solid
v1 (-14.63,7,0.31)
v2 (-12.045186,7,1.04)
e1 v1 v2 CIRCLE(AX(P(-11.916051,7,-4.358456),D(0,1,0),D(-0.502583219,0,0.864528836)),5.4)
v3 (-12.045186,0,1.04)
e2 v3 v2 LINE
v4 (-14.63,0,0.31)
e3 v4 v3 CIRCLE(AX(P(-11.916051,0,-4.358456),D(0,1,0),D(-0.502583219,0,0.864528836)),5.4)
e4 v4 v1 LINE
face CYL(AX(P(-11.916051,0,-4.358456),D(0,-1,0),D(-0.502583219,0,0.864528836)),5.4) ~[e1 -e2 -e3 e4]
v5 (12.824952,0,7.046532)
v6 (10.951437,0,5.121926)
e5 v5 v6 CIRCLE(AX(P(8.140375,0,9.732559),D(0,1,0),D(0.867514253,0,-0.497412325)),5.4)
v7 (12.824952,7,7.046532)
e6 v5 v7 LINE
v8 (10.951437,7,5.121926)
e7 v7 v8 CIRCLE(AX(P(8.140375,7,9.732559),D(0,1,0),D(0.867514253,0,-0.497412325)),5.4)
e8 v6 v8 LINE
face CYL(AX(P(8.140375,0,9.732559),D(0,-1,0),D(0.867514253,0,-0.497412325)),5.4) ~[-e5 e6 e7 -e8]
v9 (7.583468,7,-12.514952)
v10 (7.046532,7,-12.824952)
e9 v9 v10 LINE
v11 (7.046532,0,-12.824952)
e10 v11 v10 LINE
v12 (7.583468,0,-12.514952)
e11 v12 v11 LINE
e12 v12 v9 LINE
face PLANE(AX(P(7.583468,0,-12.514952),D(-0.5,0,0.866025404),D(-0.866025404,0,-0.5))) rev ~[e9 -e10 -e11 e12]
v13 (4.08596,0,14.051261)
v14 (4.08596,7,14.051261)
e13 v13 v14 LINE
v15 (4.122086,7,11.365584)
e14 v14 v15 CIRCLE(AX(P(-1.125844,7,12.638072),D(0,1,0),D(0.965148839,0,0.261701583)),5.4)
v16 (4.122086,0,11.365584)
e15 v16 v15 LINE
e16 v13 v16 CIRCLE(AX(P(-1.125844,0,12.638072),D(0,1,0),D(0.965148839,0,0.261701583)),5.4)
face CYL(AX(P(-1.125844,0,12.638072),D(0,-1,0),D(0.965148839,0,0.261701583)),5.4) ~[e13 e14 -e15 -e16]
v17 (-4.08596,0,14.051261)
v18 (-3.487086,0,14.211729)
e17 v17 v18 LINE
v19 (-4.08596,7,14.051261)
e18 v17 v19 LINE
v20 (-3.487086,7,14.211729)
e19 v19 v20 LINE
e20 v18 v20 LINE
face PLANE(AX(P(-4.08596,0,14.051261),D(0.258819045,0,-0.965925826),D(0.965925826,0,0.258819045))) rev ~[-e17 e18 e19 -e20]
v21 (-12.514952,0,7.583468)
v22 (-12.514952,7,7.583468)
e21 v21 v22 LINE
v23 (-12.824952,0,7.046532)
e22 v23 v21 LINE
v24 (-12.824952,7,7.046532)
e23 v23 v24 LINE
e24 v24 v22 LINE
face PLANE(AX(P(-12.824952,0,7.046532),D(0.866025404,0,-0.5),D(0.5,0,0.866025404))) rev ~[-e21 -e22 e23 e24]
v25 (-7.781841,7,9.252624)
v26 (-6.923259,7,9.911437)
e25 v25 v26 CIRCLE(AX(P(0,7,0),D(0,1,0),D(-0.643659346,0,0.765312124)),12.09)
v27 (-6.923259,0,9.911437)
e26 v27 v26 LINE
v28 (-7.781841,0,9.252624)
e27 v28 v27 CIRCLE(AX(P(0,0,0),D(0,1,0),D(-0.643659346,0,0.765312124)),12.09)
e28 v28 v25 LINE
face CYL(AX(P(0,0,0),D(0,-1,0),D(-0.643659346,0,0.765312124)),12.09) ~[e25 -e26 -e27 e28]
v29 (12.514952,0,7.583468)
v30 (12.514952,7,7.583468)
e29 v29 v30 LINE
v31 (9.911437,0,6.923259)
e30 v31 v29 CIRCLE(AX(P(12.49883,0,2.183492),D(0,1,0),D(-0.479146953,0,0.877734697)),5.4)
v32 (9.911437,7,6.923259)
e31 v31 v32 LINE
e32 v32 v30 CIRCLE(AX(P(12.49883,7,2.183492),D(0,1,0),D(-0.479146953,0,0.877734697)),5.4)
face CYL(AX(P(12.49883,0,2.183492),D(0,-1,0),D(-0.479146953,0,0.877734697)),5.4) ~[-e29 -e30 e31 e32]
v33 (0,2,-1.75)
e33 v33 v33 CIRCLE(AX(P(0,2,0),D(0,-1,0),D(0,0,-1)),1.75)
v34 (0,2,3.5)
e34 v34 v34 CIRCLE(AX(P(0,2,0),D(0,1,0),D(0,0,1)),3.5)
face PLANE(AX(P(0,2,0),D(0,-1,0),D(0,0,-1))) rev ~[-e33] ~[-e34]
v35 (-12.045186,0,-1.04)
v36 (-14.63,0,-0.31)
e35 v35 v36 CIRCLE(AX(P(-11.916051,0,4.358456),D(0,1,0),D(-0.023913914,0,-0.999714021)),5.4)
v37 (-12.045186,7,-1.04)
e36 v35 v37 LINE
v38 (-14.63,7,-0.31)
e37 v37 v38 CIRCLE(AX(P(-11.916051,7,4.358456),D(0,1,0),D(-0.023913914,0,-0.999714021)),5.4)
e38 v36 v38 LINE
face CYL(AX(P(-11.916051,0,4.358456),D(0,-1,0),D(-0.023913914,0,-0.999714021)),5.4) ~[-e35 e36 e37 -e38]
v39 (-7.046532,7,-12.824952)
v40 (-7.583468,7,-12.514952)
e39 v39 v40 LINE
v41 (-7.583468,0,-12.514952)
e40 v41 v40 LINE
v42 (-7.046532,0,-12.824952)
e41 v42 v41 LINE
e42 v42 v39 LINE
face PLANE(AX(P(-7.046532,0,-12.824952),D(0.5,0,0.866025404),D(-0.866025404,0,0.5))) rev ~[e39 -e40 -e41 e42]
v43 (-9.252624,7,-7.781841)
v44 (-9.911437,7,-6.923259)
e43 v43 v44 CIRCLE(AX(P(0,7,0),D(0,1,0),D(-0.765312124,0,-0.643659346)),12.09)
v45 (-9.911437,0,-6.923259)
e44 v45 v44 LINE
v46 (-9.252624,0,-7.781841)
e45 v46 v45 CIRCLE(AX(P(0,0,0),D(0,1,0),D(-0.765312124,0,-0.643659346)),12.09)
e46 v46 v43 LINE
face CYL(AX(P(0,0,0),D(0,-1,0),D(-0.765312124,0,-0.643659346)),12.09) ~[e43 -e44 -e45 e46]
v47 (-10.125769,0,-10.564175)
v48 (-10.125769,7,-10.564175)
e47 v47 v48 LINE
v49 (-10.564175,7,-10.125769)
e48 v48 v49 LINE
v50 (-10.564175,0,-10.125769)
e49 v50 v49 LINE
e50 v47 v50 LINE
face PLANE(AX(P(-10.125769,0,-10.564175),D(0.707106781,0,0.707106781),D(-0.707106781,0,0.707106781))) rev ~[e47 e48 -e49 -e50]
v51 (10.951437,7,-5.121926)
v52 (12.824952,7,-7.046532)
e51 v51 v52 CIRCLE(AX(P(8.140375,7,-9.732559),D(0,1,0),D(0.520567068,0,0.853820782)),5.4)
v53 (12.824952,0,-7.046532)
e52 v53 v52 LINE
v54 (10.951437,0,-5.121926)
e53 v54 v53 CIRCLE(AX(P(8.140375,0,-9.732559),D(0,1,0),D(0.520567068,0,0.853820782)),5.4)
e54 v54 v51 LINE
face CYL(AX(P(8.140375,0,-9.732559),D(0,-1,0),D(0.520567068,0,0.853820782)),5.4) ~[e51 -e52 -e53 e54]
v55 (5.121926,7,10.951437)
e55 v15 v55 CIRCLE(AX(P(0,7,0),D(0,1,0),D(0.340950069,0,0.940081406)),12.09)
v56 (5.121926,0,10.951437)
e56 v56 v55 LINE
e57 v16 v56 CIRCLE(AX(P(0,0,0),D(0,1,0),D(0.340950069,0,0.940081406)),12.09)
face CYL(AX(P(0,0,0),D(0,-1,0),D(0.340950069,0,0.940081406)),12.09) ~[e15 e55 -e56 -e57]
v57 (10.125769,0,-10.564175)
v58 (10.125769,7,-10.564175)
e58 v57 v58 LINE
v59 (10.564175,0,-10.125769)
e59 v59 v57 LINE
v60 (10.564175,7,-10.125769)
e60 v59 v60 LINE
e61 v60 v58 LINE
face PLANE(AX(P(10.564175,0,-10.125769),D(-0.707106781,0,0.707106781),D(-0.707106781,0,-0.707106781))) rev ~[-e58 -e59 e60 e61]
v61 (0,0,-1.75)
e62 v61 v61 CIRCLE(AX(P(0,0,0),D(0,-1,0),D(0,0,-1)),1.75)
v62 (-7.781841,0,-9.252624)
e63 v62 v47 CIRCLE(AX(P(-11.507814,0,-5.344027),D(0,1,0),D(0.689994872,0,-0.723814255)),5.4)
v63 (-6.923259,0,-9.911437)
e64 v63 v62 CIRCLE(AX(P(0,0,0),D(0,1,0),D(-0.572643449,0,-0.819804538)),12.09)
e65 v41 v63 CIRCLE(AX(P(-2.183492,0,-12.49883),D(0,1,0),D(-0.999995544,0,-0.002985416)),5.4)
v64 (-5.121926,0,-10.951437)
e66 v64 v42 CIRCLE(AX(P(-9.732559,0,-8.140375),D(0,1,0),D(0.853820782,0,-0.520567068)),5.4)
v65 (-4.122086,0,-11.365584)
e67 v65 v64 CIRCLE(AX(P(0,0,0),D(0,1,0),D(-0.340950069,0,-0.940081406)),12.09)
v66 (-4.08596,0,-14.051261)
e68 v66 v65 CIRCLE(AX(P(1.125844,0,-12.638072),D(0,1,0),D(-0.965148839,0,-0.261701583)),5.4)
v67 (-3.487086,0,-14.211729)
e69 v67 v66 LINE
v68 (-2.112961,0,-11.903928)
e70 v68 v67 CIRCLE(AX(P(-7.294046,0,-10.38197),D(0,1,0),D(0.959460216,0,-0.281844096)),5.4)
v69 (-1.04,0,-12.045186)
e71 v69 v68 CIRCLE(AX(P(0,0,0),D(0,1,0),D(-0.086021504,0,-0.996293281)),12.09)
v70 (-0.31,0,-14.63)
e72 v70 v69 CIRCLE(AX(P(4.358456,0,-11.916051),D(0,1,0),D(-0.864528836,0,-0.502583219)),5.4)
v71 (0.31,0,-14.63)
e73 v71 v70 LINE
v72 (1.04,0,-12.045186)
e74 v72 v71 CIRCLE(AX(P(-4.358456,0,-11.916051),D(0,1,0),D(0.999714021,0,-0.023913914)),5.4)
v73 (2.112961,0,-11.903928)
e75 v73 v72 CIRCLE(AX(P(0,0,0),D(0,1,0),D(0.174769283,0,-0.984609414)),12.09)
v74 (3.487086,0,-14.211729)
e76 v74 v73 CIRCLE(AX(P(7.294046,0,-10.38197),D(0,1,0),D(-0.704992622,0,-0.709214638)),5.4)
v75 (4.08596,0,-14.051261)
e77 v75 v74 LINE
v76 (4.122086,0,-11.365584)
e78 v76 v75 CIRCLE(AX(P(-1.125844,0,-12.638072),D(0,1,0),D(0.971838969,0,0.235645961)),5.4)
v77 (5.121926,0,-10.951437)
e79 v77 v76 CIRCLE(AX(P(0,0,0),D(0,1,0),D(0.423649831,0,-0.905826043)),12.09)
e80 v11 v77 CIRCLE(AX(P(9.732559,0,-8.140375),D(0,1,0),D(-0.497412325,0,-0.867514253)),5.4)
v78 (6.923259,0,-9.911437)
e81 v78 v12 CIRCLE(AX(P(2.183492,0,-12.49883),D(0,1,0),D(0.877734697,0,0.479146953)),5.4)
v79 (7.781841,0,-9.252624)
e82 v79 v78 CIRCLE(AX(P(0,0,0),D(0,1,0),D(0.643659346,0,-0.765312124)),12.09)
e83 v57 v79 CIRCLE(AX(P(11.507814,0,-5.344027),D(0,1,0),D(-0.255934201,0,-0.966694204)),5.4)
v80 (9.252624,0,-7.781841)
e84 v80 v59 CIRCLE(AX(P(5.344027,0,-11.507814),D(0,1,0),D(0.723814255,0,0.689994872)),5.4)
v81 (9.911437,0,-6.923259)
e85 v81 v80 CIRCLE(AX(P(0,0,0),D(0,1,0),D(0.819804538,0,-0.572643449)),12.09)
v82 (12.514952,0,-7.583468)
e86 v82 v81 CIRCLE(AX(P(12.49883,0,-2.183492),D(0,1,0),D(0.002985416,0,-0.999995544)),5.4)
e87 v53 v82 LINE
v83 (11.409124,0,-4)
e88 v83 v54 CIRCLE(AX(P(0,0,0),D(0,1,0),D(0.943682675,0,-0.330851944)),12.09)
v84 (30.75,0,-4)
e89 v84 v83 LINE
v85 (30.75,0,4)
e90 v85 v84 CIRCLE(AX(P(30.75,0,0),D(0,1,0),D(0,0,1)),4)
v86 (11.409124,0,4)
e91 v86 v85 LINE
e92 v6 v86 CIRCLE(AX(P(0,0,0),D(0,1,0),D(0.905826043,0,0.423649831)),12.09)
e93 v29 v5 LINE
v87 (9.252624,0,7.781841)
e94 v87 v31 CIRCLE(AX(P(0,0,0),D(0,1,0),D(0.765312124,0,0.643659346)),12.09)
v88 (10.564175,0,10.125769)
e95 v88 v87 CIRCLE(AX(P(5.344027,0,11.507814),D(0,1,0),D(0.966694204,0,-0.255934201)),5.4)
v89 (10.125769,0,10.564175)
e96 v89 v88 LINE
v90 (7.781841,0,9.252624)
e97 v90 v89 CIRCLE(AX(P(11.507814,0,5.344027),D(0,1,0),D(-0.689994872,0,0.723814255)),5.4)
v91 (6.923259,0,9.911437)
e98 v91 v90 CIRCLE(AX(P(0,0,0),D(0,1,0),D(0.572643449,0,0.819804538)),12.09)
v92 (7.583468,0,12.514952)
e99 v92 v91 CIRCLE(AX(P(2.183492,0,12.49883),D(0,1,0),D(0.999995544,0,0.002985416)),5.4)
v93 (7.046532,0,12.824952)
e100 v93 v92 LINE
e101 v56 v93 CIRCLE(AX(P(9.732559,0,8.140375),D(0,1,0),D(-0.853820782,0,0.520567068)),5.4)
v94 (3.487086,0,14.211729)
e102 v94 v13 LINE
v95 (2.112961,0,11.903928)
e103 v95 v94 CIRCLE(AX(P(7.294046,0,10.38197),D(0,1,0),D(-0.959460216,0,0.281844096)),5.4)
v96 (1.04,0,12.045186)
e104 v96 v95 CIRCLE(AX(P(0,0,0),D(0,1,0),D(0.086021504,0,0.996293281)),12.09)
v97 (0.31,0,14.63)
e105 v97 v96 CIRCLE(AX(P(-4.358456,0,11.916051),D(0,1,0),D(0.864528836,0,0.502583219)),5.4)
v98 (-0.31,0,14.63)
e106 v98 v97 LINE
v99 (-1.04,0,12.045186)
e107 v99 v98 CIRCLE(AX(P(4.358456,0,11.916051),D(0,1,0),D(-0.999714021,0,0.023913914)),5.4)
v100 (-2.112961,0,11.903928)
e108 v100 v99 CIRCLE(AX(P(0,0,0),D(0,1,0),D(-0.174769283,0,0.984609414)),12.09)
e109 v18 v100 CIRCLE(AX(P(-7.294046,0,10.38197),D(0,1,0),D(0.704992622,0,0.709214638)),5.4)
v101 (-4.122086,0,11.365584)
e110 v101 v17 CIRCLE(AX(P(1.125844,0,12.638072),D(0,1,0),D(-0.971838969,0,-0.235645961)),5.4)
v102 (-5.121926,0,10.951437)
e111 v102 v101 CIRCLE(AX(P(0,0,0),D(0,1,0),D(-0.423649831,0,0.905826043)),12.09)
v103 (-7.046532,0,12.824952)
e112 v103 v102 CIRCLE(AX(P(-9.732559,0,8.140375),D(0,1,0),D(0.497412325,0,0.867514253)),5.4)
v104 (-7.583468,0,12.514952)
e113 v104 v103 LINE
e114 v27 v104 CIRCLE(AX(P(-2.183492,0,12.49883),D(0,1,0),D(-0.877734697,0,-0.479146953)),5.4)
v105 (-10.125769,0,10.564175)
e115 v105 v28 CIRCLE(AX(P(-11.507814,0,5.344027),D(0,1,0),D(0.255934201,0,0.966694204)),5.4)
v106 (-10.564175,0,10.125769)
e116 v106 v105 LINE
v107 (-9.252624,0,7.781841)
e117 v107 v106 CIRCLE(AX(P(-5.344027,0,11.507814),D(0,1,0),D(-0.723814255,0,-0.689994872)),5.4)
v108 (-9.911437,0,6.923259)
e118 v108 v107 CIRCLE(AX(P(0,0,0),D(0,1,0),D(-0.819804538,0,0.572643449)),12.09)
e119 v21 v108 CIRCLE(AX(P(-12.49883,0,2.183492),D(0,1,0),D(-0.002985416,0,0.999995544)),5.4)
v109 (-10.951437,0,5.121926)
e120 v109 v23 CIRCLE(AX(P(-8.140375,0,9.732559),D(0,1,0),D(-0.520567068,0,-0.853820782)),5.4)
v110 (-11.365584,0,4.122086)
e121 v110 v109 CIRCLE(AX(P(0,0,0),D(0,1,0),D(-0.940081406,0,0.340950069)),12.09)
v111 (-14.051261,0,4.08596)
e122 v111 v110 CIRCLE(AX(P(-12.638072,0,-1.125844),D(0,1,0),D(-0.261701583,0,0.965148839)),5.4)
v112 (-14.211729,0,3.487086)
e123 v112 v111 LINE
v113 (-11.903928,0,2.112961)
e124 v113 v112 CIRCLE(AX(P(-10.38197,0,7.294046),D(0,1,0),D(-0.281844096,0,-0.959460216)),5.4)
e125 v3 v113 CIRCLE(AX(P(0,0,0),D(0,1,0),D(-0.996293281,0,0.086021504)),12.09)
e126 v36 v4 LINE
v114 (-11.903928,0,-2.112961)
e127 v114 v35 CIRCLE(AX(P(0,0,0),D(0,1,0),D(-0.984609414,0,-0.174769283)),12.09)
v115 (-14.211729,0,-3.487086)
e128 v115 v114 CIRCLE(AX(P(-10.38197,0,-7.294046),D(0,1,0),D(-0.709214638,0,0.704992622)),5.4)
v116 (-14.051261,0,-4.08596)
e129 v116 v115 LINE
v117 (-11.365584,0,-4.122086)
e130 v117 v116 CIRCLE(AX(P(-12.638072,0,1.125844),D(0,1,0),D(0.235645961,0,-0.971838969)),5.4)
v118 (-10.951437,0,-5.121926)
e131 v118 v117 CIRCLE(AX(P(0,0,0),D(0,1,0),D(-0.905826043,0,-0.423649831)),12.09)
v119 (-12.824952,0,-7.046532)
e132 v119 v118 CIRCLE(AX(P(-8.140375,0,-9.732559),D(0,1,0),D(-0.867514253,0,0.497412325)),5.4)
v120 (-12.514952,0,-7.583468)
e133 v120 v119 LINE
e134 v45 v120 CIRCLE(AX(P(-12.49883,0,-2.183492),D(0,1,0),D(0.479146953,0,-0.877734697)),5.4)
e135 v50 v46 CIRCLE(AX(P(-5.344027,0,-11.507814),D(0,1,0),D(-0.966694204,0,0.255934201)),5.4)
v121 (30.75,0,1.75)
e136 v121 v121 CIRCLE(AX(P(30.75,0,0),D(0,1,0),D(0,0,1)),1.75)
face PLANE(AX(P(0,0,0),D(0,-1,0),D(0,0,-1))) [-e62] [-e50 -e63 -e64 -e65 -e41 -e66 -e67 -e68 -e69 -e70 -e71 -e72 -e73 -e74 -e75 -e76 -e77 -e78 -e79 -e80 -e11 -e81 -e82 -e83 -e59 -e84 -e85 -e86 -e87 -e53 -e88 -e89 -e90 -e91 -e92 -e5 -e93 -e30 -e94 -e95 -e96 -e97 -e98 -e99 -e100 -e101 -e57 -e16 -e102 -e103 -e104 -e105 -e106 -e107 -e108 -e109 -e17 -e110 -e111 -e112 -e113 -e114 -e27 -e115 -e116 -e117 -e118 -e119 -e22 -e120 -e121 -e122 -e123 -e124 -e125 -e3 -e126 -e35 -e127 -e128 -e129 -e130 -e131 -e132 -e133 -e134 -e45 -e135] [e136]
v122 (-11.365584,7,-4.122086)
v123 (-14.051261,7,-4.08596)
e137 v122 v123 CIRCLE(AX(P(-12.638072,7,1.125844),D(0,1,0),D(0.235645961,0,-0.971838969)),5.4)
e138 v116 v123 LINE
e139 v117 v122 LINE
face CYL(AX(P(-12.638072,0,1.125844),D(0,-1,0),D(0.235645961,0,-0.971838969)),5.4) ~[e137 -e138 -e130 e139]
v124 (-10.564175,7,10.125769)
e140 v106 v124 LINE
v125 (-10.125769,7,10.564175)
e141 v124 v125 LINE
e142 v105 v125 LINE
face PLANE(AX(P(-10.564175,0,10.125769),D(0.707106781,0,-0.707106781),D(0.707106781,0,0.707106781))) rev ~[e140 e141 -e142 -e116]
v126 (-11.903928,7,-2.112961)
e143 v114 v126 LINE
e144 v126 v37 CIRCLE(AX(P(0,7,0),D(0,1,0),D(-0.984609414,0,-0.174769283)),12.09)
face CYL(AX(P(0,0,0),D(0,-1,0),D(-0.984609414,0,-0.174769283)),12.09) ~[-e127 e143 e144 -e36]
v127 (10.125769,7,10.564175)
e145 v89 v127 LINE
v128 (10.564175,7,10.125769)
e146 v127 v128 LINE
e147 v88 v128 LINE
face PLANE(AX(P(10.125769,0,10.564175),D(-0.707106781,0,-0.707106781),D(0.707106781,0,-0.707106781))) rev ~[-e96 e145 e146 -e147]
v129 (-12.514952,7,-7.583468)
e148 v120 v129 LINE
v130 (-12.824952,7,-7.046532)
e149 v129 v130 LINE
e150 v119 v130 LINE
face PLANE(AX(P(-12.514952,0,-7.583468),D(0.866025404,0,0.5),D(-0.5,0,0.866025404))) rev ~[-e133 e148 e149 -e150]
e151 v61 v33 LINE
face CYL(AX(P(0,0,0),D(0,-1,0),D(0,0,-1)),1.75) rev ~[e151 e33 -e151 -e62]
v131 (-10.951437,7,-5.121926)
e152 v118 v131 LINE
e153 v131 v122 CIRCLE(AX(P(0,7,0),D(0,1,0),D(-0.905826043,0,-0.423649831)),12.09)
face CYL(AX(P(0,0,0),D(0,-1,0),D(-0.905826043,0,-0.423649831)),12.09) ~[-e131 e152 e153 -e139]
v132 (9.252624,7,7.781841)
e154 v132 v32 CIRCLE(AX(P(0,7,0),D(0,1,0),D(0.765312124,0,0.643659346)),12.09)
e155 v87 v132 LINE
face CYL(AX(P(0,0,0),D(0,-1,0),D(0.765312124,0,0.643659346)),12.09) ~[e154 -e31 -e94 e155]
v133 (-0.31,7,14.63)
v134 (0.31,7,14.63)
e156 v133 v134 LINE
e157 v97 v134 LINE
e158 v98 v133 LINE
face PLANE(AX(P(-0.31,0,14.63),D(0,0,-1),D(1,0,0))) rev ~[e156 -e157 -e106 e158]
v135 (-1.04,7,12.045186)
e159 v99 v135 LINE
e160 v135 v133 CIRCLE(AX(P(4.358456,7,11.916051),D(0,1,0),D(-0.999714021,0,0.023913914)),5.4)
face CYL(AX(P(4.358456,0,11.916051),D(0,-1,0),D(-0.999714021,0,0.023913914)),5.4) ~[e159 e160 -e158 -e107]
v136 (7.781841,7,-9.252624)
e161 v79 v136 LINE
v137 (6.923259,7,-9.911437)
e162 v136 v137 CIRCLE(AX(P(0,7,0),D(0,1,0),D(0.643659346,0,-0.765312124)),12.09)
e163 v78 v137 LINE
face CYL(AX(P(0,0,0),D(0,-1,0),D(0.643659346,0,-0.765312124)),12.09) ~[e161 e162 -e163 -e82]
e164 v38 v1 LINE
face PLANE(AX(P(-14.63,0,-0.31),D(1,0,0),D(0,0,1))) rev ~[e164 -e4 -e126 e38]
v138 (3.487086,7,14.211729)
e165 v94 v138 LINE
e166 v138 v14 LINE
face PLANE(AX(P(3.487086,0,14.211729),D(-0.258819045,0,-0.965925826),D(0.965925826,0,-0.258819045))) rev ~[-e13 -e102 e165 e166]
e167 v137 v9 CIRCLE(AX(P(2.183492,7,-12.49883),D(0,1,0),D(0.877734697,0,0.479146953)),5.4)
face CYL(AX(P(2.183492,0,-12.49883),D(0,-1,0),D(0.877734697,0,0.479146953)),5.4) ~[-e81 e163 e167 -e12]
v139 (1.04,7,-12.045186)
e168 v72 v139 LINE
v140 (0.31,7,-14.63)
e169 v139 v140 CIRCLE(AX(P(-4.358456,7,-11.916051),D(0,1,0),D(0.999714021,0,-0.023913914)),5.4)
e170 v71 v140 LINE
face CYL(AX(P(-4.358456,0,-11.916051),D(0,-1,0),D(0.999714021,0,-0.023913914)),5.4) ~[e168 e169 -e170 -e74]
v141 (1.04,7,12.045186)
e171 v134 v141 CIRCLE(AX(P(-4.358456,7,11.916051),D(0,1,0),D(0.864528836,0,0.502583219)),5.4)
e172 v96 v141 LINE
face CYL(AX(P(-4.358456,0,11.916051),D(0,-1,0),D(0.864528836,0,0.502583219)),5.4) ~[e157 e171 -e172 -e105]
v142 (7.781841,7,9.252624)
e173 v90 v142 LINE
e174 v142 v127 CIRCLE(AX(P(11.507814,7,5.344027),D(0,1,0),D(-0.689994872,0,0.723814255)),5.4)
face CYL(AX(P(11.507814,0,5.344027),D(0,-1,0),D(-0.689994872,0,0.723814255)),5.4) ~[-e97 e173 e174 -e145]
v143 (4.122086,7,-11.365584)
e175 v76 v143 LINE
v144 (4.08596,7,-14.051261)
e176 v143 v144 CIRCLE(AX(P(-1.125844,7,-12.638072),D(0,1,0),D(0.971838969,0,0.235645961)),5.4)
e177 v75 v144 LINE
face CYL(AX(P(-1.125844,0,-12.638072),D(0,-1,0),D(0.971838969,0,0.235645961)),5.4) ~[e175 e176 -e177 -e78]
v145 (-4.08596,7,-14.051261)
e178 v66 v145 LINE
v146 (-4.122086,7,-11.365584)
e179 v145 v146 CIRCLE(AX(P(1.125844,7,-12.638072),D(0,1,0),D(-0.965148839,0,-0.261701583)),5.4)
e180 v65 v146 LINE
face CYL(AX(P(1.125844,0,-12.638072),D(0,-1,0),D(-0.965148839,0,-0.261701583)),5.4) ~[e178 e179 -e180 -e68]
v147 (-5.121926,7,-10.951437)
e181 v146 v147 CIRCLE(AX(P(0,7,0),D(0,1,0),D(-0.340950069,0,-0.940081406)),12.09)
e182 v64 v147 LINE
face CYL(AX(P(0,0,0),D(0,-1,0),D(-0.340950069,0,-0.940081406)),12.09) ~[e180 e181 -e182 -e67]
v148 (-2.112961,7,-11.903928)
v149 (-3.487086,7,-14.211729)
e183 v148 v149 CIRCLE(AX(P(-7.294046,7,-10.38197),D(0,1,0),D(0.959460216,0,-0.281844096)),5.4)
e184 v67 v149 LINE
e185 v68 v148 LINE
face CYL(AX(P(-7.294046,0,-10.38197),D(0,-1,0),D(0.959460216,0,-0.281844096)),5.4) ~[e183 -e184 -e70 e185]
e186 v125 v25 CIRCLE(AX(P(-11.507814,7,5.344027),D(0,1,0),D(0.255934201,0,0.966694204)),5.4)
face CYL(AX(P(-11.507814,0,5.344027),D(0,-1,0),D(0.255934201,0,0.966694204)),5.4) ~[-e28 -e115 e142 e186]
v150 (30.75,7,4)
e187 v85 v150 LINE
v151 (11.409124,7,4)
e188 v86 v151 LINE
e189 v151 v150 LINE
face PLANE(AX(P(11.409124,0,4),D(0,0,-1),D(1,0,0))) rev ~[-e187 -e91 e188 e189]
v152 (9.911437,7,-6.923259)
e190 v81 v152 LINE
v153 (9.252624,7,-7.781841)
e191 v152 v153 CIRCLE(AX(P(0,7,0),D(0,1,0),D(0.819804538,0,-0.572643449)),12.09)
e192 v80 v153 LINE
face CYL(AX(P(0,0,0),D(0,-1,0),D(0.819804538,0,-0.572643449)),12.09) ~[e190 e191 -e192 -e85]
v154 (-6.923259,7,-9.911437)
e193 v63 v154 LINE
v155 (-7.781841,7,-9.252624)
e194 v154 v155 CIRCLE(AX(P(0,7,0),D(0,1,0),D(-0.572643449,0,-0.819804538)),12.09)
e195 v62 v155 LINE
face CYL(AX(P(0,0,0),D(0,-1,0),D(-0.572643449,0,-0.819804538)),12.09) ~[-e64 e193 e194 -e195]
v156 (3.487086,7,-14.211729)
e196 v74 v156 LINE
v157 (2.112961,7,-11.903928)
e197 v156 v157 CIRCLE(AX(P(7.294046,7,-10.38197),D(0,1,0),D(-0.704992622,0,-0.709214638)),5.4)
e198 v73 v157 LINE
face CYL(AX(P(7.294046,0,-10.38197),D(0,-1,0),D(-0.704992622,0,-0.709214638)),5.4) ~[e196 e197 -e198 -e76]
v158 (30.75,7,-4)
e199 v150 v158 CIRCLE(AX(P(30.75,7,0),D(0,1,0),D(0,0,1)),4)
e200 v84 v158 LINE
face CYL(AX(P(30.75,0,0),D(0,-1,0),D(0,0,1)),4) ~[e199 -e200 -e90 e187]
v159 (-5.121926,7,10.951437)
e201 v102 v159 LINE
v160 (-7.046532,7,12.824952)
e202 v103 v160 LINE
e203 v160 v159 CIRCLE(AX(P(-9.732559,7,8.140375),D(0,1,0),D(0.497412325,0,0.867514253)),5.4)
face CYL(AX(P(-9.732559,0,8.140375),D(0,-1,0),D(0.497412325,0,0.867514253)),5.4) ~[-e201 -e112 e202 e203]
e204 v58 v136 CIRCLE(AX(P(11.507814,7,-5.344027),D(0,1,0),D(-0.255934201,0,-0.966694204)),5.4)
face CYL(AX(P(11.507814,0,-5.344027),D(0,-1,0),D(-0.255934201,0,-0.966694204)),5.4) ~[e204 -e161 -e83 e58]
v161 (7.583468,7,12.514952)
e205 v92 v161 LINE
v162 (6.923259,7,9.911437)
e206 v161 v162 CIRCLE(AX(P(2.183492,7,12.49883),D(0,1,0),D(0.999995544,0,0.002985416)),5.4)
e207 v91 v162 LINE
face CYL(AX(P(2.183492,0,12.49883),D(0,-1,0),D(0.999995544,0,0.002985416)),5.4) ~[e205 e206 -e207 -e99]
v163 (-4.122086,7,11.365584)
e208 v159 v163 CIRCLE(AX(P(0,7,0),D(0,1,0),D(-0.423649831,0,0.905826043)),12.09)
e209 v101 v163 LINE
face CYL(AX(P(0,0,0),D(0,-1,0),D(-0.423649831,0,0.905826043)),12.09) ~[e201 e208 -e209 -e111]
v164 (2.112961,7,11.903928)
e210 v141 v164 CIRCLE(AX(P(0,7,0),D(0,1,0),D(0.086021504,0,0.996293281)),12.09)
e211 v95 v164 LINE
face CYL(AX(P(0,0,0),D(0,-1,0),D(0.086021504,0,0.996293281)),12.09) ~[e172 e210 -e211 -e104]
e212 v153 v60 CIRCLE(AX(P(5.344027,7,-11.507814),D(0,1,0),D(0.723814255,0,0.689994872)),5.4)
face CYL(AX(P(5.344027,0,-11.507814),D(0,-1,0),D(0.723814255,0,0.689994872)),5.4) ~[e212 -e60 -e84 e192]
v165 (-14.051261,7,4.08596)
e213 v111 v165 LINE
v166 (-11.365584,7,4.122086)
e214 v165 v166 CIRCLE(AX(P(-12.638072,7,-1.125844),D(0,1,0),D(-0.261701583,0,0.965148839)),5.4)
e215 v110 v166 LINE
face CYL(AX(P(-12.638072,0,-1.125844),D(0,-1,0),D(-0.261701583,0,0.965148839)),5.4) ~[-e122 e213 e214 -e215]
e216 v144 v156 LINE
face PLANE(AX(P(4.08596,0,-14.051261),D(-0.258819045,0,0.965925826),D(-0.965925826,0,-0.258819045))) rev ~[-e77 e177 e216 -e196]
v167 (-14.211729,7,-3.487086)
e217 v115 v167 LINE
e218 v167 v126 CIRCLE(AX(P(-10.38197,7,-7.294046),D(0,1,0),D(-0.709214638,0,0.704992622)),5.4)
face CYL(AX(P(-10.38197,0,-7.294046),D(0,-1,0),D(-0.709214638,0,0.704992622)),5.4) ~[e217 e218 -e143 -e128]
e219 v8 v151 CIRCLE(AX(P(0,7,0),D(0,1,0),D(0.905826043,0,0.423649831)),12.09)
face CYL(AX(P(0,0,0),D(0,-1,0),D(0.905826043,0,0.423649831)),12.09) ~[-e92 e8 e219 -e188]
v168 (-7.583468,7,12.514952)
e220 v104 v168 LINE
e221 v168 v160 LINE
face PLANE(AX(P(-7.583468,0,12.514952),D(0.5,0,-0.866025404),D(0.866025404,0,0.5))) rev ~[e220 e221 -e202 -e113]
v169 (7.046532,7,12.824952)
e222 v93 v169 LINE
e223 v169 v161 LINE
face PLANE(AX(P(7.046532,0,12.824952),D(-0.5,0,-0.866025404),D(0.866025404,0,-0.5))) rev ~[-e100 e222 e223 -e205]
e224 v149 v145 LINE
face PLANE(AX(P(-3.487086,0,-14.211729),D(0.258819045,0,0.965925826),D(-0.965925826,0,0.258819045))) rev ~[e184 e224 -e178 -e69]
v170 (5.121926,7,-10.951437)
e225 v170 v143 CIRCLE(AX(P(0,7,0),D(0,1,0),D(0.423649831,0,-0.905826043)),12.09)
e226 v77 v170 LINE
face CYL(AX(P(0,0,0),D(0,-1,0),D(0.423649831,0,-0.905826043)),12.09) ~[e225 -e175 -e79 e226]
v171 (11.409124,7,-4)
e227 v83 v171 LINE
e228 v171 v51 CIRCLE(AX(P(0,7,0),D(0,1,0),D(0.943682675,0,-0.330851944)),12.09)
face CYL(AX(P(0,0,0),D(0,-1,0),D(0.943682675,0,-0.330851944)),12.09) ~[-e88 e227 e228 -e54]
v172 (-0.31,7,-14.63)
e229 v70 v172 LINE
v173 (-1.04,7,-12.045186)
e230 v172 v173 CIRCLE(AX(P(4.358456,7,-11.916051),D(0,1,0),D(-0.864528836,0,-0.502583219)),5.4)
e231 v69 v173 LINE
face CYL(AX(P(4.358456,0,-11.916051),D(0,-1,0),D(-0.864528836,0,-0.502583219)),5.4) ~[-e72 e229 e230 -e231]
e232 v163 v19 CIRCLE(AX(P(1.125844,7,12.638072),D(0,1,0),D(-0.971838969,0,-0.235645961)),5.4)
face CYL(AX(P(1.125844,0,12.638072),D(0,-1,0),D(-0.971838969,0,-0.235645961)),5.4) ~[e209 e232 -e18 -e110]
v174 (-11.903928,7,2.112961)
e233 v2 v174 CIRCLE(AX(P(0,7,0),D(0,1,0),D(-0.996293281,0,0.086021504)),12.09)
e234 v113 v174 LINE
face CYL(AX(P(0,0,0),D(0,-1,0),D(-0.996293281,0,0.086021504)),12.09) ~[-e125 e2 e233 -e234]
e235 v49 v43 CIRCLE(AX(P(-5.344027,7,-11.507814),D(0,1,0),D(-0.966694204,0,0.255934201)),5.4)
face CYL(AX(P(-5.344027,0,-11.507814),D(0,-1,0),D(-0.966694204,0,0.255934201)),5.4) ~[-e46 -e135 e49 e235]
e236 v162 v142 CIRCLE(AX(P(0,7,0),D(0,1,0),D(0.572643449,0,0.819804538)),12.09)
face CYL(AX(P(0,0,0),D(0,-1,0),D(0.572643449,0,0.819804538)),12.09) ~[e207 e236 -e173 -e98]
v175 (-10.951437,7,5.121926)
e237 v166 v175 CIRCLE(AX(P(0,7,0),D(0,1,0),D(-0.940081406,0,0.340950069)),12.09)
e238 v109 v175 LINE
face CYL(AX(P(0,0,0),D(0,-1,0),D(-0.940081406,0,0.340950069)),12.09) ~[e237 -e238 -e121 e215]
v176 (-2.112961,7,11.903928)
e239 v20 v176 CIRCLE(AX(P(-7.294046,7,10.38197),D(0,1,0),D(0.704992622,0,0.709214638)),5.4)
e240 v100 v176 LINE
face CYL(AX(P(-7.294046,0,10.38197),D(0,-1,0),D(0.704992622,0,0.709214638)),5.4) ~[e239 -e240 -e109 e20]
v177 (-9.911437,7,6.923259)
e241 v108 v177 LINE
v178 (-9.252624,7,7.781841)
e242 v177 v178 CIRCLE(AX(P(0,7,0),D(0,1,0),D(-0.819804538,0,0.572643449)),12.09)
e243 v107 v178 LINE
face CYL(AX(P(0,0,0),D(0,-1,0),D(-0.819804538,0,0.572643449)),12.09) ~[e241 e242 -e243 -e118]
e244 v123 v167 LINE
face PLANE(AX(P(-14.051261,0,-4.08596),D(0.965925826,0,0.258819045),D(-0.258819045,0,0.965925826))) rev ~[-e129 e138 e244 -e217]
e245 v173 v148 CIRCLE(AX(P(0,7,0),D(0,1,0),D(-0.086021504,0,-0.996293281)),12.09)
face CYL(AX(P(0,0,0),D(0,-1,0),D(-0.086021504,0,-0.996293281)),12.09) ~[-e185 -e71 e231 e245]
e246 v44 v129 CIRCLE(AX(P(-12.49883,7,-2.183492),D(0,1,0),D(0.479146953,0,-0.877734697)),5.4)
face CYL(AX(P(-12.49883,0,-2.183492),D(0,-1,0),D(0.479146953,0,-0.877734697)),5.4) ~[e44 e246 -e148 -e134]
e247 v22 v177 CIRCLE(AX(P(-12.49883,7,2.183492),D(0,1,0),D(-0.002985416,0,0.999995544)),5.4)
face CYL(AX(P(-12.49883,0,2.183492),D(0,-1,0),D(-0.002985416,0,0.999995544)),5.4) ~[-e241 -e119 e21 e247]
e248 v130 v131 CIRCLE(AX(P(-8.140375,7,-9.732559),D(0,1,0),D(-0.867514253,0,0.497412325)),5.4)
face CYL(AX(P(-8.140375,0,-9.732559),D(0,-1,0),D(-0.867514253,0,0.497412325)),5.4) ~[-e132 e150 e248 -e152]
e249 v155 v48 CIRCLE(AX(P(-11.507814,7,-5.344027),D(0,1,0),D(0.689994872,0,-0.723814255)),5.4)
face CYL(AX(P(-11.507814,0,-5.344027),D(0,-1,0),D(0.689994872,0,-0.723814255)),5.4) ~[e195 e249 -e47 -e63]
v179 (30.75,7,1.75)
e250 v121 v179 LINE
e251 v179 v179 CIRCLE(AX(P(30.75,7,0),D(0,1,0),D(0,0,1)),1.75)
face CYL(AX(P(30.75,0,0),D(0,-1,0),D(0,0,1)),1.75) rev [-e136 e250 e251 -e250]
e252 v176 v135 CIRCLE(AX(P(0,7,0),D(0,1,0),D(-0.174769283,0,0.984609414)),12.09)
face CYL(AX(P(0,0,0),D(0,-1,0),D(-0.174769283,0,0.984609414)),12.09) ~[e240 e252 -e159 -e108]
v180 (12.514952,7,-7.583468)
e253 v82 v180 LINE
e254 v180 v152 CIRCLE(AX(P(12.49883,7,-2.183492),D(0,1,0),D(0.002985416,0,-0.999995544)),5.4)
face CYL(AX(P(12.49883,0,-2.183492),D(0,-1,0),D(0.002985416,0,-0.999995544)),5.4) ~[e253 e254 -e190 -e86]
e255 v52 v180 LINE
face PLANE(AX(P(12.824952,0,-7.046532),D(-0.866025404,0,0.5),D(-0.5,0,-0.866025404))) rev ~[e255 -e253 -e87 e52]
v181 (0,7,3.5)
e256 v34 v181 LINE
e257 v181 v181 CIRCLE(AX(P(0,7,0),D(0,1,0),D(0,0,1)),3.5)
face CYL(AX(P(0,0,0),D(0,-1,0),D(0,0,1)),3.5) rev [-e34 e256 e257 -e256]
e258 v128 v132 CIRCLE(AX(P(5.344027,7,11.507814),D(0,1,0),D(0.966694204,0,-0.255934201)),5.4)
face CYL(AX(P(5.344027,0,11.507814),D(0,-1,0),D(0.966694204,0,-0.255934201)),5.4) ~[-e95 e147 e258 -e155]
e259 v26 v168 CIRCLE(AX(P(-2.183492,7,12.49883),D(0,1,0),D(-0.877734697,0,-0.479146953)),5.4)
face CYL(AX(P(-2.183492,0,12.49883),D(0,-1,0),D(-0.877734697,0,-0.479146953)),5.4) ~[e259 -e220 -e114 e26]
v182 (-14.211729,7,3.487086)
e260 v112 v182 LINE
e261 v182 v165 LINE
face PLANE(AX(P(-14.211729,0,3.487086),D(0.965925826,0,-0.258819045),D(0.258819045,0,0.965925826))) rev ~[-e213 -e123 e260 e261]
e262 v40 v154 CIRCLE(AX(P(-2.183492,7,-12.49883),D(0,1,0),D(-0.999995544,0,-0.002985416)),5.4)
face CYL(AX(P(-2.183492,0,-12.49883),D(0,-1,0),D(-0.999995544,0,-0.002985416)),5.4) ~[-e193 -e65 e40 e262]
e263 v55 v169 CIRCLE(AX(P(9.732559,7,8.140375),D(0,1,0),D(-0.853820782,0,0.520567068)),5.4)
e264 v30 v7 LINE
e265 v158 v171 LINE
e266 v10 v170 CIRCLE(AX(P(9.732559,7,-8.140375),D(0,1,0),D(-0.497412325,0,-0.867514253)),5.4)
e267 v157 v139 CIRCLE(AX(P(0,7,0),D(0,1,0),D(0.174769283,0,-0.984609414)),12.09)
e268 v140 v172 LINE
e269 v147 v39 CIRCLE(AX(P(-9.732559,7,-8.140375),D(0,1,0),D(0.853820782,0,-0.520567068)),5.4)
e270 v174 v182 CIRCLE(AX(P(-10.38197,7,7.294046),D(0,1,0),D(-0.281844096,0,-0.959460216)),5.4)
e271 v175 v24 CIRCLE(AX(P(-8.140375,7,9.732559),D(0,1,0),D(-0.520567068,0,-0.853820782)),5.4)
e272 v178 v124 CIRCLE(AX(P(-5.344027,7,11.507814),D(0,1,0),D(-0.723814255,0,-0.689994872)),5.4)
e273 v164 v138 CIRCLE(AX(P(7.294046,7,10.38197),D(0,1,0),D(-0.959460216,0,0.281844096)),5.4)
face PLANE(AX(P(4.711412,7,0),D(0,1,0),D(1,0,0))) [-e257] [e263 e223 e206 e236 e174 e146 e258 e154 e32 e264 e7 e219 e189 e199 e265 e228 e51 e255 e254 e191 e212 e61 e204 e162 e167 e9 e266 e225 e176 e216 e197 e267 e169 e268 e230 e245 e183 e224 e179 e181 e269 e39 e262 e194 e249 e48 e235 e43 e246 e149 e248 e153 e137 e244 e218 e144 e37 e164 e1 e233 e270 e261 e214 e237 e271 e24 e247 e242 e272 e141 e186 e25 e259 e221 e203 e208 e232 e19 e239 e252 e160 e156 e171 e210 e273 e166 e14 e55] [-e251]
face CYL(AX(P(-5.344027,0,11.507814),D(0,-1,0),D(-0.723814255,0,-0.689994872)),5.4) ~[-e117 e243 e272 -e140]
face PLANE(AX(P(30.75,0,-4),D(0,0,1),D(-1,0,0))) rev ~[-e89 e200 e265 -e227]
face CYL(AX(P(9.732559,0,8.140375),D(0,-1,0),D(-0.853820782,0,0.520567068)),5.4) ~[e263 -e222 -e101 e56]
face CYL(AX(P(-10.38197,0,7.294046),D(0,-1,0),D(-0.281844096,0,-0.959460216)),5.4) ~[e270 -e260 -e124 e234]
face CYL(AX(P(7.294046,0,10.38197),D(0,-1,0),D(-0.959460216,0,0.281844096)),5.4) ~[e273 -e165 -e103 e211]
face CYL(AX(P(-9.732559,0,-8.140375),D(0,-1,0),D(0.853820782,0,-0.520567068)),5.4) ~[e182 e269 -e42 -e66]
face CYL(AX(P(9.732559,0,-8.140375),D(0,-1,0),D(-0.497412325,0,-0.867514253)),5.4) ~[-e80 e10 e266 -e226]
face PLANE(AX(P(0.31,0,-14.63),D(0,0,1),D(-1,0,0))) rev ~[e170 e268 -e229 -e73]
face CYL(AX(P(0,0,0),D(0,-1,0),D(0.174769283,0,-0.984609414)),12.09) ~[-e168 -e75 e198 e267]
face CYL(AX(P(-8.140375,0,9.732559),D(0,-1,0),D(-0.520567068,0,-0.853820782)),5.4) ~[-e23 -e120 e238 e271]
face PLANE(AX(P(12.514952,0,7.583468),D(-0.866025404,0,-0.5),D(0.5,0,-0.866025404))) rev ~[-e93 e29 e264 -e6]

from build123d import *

# Parameters (mm, degrees)
SKETCH1_R           = 3.5
SKETCH1_R_2         = 1.75
BOSS_EXTRUDE1_DEPTH = 7
SKETCH2_R           = 3.5
SKETCH2_R_2         = 1.75
BOSS_EXTRUDE2_DEPTH = 2


with BuildPart() as part:
    # Sketch1 → Boss-Extrude1 (new body)
    with BuildSketch(Plane(origin=(0, 0, 0), x_dir=(1, 0, 0), z_dir=(0, 1, 0))):
        with BuildLine():
            ThreePointArc((1.04, 12.04518576), (0.838273314, 13.383704325), (0.31, 14.63))
            Line((0.31, 14.63), (-0.31, 14.63))
            ThreePointArc((-0.31, 14.63), (-0.838273314, 13.383704325), (-1.04, 12.04518576))
            ThreePointArc((-1.04, 12.04518576), (-1.578061664, 11.986568374), (-2.112960617, 11.903927815))
            ThreePointArc((-2.112960617, 11.903927815), (-2.65424773, 13.144626757), (-3.487085624, 14.211728743))
            Line((-3.487085624, 14.211728743), (-4.085959636, 14.051260935))
            ThreePointArc((-4.085959636, 14.051260935), (-4.273667417, 12.71070456), (-4.122086336, 11.365584201))
            ThreePointArc((-4.122086336, 11.365584201), (-4.626642697, 11.169703548), (-5.12192646, 10.951436862))
            ThreePointArc((-5.12192646, 10.951436862), (-5.965886177, 12.009764599), (-7.046532125, 12.824951657))
            Line((-7.046532125, 12.824951657), (-7.583467875, 12.514951657))
            ThreePointArc((-7.583467875, 12.514951657), (-7.417818147, 11.171491285), (-6.9232593, 9.911436862))
            ThreePointArc((-6.9232593, 9.911436862), (-7.359925677, 9.591641884), (-7.781841479, 9.252623584))
            ThreePointArc((-7.781841479, 9.252623584), (-8.870959341, 10.05645683), (-10.125769107, 10.564175311))
            Line((-10.125769107, 10.564175311), (-10.564175311, 10.125769107))
            ThreePointArc((-10.564175311, 10.125769107), (-10.05645683, 8.870959341), (-9.252623584, 7.781841479))
            ThreePointArc((-9.252623584, 7.781841479), (-9.591641884, 7.359925677), (-9.911436862, 6.9232593))
            ThreePointArc((-9.911436862, 6.9232593), (-11.171491285, 7.417818147), (-12.514951657, 7.583467875))
            Line((-12.514951657, 7.583467875), (-12.824951657, 7.046532125))
            ThreePointArc((-12.824951657, 7.046532125), (-12.009764599, 5.965886177), (-10.951436862, 5.12192646))
            ThreePointArc((-10.951436862, 5.12192646), (-11.169703548, 4.626642697), (-11.365584201, 4.122086336))
            ThreePointArc((-11.365584201, 4.122086336), (-12.71070456, 4.273667417), (-14.051260935, 4.085959636))
            Line((-14.051260935, 4.085959636), (-14.211728743, 3.487085624))
            ThreePointArc((-14.211728743, 3.487085624), (-13.144626757, 2.65424773), (-11.903927815, 2.112960617))
            ThreePointArc((-11.903927815, 2.112960617), (-11.986568374, 1.578061664), (-12.04518576, 1.04))
            ThreePointArc((-12.04518576, 1.04), (-13.383704325, 0.838273314), (-14.63, 0.31))
            Line((-14.63, 0.31), (-14.63, -0.31))
            ThreePointArc((-14.63, -0.31), (-13.383704325, -0.838273314), (-12.04518576, -1.04))
            ThreePointArc((-12.04518576, -1.04), (-11.986568374, -1.578061664), (-11.903927815, -2.112960617))
            ThreePointArc((-11.903927815, -2.112960617), (-13.144626757, -2.65424773), (-14.211728743, -3.487085624))
            Line((-14.211728743, -3.487085624), (-14.051260935, -4.085959636))
            ThreePointArc((-14.051260935, -4.085959636), (-12.71070456, -4.273667417), (-11.365584201, -4.122086336))
            ThreePointArc((-11.365584201, -4.122086336), (-11.169703548, -4.626642697), (-10.951436862, -5.12192646))
            ThreePointArc((-10.951436862, -5.12192646), (-12.009764599, -5.965886177), (-12.824951657, -7.046532125))
            Line((-12.824951657, -7.046532125), (-12.514951657, -7.583467875))
            ThreePointArc((-12.514951657, -7.583467875), (-11.171491285, -7.417818147), (-9.911436862, -6.9232593))
            ThreePointArc((-9.911436862, -6.9232593), (-9.591641884, -7.359925677), (-9.252623584, -7.781841479))
            ThreePointArc((-9.252623584, -7.781841479), (-10.05645683, -8.870959341), (-10.564175311, -10.125769107))
            Line((-10.564175311, -10.125769107), (-10.125769107, -10.564175311))
            ThreePointArc((-10.125769107, -10.564175311), (-8.870959341, -10.05645683), (-7.781841479, -9.252623584))
            ThreePointArc((-7.781841479, -9.252623584), (-7.359925677, -9.591641884), (-6.9232593, -9.911436862))
            ThreePointArc((-6.9232593, -9.911436862), (-7.417818147, -11.171491285), (-7.583467875, -12.514951657))
            Line((-7.583467875, -12.514951657), (-7.046532125, -12.824951657))
            ThreePointArc((-7.046532125, -12.824951657), (-5.965886177, -12.009764599), (-5.12192646, -10.951436862))
            ThreePointArc((-5.12192646, -10.951436862), (-4.626642697, -11.169703548), (-4.122086336, -11.365584201))
            ThreePointArc((-4.122086336, -11.365584201), (-4.273667417, -12.71070456), (-4.085959636, -14.051260935))
            Line((-4.085959636, -14.051260935), (-3.487085624, -14.211728743))
            ThreePointArc((-3.487085624, -14.211728743), (-2.65424773, -13.144626757), (-2.112960617, -11.903927815))
            ThreePointArc((-2.112960617, -11.903927815), (-1.578061664, -11.986568374), (-1.04, -12.04518576))
            ThreePointArc((-1.04, -12.04518576), (-0.838273314, -13.383704325), (-0.31, -14.63))
            Line((-0.31, -14.63), (0.31, -14.63))
            ThreePointArc((0.31, -14.63), (0.838273314, -13.383704325), (1.04, -12.04518576))
            ThreePointArc((1.04, -12.04518576), (1.578061664, -11.986568374), (2.112960617, -11.903927815))
            ThreePointArc((2.112960617, -11.903927815), (2.65424773, -13.144626757), (3.487085624, -14.211728743))
            Line((3.487085624, -14.211728743), (4.085959636, -14.051260935))
            ThreePointArc((4.085959636, -14.051260935), (4.273667417, -12.71070456), (4.122086336, -11.365584201))
            ThreePointArc((4.122086336, -11.365584201), (4.626642697, -11.169703548), (5.12192646, -10.951436862))
            ThreePointArc((5.12192646, -10.951436862), (5.965886177, -12.009764599), (7.046532125, -12.824951657))
            Line((7.046532125, -12.824951657), (7.583467875, -12.514951657))
            ThreePointArc((7.583467875, -12.514951657), (7.417818147, -11.171491285), (6.9232593, -9.911436862))
            ThreePointArc((6.9232593, -9.911436862), (7.359925677, -9.591641884), (7.781841479, -9.252623584))
            ThreePointArc((7.781841479, -9.252623584), (8.870959341, -10.05645683), (10.125769107, -10.564175311))
            Line((10.125769107, -10.564175311), (10.564175311, -10.125769107))
            ThreePointArc((10.564175311, -10.125769107), (10.05645683, -8.870959341), (9.252623584, -7.781841479))
            ThreePointArc((9.252623584, -7.781841479), (9.591641884, -7.359925677), (9.911436862, -6.9232593))
            ThreePointArc((9.911436862, -6.9232593), (11.171491285, -7.417818147), (12.514951657, -7.583467875))
            Line((12.514951657, -7.583467875), (12.824951657, -7.046532125))
            ThreePointArc((12.824951657, -7.046532125), (12.009764599, -5.965886177), (10.951436862, -5.12192646))
            ThreePointArc((10.951436862, -5.12192646), (11.194344337, -4.566700654), (11.409123542, -4))
            Line((11.409123542, -4), (30.75, -4))
            ThreePointArc((30.75, -4), (34.75, 0), (30.75, 4))
            Line((30.75, 4), (11.409123542, 4))
            ThreePointArc((11.409123542, 4), (11.194344337, 4.566700654), (10.951436862, 5.12192646))
            ThreePointArc((10.951436862, 5.12192646), (12.009764599, 5.965886177), (12.824951657, 7.046532125))
            Line((12.824951657, 7.046532125), (12.514951657, 7.583467875))
            ThreePointArc((12.514951657, 7.583467875), (11.171491285, 7.417818147), (9.911436862, 6.9232593))
            ThreePointArc((9.911436862, 6.9232593), (9.591641884, 7.359925677), (9.252623584, 7.781841479))
            ThreePointArc((9.252623584, 7.781841479), (10.05645683, 8.870959341), (10.564175311, 10.125769107))
            Line((10.564175311, 10.125769107), (10.125769107, 10.564175311))
            ThreePointArc((10.125769107, 10.564175311), (8.870959341, 10.05645683), (7.781841479, 9.252623584))
            ThreePointArc((7.781841479, 9.252623584), (7.359925677, 9.591641884), (6.9232593, 9.911436862))
            ThreePointArc((6.9232593, 9.911436862), (7.417818147, 11.171491285), (7.583467875, 12.514951657))
            Line((7.583467875, 12.514951657), (7.046532125, 12.824951657))
            ThreePointArc((7.046532125, 12.824951657), (5.965886177, 12.009764599), (5.12192646, 10.951436862))
            ThreePointArc((5.12192646, 10.951436862), (4.626642697, 11.169703548), (4.122086336, 11.365584201))
            ThreePointArc((4.122086336, 11.365584201), (4.273667417, 12.71070456), (4.085959636, 14.051260935))
            Line((4.085959636, 14.051260935), (3.487085624, 14.211728743))
            ThreePointArc((3.487085624, 14.211728743), (2.65424773, 13.144626757), (2.112960617, 11.903927815))
            ThreePointArc((2.112960617, 11.903927815), (1.578061664, 11.986568374), (1.04, 12.04518576))
        make_face()
        with Locations(Location((0, 0, 0), (0, 0, 270))):
            Circle(SKETCH1_R, mode=Mode.SUBTRACT)
        with Locations(Location((30.75, 0, 0), (0, 0, 270))):
            Circle(SKETCH1_R_2, mode=Mode.SUBTRACT)
    extrude(amount=BOSS_EXTRUDE1_DEPTH)

    # Sketch2 → Boss-Extrude2 (add)
    with BuildSketch(Plane.XZ):
        with Locations(Location((0, 0, 0), (0, 0, 270))):
            Circle(SKETCH2_R)
        with Locations(Location((0, 0, 0), (0, 0, 270))):
            Circle(SKETCH2_R_2, mode=Mode.SUBTRACT)
    extrude(amount=-BOSS_EXTRUDE2_DEPTH)


solid = part.part
